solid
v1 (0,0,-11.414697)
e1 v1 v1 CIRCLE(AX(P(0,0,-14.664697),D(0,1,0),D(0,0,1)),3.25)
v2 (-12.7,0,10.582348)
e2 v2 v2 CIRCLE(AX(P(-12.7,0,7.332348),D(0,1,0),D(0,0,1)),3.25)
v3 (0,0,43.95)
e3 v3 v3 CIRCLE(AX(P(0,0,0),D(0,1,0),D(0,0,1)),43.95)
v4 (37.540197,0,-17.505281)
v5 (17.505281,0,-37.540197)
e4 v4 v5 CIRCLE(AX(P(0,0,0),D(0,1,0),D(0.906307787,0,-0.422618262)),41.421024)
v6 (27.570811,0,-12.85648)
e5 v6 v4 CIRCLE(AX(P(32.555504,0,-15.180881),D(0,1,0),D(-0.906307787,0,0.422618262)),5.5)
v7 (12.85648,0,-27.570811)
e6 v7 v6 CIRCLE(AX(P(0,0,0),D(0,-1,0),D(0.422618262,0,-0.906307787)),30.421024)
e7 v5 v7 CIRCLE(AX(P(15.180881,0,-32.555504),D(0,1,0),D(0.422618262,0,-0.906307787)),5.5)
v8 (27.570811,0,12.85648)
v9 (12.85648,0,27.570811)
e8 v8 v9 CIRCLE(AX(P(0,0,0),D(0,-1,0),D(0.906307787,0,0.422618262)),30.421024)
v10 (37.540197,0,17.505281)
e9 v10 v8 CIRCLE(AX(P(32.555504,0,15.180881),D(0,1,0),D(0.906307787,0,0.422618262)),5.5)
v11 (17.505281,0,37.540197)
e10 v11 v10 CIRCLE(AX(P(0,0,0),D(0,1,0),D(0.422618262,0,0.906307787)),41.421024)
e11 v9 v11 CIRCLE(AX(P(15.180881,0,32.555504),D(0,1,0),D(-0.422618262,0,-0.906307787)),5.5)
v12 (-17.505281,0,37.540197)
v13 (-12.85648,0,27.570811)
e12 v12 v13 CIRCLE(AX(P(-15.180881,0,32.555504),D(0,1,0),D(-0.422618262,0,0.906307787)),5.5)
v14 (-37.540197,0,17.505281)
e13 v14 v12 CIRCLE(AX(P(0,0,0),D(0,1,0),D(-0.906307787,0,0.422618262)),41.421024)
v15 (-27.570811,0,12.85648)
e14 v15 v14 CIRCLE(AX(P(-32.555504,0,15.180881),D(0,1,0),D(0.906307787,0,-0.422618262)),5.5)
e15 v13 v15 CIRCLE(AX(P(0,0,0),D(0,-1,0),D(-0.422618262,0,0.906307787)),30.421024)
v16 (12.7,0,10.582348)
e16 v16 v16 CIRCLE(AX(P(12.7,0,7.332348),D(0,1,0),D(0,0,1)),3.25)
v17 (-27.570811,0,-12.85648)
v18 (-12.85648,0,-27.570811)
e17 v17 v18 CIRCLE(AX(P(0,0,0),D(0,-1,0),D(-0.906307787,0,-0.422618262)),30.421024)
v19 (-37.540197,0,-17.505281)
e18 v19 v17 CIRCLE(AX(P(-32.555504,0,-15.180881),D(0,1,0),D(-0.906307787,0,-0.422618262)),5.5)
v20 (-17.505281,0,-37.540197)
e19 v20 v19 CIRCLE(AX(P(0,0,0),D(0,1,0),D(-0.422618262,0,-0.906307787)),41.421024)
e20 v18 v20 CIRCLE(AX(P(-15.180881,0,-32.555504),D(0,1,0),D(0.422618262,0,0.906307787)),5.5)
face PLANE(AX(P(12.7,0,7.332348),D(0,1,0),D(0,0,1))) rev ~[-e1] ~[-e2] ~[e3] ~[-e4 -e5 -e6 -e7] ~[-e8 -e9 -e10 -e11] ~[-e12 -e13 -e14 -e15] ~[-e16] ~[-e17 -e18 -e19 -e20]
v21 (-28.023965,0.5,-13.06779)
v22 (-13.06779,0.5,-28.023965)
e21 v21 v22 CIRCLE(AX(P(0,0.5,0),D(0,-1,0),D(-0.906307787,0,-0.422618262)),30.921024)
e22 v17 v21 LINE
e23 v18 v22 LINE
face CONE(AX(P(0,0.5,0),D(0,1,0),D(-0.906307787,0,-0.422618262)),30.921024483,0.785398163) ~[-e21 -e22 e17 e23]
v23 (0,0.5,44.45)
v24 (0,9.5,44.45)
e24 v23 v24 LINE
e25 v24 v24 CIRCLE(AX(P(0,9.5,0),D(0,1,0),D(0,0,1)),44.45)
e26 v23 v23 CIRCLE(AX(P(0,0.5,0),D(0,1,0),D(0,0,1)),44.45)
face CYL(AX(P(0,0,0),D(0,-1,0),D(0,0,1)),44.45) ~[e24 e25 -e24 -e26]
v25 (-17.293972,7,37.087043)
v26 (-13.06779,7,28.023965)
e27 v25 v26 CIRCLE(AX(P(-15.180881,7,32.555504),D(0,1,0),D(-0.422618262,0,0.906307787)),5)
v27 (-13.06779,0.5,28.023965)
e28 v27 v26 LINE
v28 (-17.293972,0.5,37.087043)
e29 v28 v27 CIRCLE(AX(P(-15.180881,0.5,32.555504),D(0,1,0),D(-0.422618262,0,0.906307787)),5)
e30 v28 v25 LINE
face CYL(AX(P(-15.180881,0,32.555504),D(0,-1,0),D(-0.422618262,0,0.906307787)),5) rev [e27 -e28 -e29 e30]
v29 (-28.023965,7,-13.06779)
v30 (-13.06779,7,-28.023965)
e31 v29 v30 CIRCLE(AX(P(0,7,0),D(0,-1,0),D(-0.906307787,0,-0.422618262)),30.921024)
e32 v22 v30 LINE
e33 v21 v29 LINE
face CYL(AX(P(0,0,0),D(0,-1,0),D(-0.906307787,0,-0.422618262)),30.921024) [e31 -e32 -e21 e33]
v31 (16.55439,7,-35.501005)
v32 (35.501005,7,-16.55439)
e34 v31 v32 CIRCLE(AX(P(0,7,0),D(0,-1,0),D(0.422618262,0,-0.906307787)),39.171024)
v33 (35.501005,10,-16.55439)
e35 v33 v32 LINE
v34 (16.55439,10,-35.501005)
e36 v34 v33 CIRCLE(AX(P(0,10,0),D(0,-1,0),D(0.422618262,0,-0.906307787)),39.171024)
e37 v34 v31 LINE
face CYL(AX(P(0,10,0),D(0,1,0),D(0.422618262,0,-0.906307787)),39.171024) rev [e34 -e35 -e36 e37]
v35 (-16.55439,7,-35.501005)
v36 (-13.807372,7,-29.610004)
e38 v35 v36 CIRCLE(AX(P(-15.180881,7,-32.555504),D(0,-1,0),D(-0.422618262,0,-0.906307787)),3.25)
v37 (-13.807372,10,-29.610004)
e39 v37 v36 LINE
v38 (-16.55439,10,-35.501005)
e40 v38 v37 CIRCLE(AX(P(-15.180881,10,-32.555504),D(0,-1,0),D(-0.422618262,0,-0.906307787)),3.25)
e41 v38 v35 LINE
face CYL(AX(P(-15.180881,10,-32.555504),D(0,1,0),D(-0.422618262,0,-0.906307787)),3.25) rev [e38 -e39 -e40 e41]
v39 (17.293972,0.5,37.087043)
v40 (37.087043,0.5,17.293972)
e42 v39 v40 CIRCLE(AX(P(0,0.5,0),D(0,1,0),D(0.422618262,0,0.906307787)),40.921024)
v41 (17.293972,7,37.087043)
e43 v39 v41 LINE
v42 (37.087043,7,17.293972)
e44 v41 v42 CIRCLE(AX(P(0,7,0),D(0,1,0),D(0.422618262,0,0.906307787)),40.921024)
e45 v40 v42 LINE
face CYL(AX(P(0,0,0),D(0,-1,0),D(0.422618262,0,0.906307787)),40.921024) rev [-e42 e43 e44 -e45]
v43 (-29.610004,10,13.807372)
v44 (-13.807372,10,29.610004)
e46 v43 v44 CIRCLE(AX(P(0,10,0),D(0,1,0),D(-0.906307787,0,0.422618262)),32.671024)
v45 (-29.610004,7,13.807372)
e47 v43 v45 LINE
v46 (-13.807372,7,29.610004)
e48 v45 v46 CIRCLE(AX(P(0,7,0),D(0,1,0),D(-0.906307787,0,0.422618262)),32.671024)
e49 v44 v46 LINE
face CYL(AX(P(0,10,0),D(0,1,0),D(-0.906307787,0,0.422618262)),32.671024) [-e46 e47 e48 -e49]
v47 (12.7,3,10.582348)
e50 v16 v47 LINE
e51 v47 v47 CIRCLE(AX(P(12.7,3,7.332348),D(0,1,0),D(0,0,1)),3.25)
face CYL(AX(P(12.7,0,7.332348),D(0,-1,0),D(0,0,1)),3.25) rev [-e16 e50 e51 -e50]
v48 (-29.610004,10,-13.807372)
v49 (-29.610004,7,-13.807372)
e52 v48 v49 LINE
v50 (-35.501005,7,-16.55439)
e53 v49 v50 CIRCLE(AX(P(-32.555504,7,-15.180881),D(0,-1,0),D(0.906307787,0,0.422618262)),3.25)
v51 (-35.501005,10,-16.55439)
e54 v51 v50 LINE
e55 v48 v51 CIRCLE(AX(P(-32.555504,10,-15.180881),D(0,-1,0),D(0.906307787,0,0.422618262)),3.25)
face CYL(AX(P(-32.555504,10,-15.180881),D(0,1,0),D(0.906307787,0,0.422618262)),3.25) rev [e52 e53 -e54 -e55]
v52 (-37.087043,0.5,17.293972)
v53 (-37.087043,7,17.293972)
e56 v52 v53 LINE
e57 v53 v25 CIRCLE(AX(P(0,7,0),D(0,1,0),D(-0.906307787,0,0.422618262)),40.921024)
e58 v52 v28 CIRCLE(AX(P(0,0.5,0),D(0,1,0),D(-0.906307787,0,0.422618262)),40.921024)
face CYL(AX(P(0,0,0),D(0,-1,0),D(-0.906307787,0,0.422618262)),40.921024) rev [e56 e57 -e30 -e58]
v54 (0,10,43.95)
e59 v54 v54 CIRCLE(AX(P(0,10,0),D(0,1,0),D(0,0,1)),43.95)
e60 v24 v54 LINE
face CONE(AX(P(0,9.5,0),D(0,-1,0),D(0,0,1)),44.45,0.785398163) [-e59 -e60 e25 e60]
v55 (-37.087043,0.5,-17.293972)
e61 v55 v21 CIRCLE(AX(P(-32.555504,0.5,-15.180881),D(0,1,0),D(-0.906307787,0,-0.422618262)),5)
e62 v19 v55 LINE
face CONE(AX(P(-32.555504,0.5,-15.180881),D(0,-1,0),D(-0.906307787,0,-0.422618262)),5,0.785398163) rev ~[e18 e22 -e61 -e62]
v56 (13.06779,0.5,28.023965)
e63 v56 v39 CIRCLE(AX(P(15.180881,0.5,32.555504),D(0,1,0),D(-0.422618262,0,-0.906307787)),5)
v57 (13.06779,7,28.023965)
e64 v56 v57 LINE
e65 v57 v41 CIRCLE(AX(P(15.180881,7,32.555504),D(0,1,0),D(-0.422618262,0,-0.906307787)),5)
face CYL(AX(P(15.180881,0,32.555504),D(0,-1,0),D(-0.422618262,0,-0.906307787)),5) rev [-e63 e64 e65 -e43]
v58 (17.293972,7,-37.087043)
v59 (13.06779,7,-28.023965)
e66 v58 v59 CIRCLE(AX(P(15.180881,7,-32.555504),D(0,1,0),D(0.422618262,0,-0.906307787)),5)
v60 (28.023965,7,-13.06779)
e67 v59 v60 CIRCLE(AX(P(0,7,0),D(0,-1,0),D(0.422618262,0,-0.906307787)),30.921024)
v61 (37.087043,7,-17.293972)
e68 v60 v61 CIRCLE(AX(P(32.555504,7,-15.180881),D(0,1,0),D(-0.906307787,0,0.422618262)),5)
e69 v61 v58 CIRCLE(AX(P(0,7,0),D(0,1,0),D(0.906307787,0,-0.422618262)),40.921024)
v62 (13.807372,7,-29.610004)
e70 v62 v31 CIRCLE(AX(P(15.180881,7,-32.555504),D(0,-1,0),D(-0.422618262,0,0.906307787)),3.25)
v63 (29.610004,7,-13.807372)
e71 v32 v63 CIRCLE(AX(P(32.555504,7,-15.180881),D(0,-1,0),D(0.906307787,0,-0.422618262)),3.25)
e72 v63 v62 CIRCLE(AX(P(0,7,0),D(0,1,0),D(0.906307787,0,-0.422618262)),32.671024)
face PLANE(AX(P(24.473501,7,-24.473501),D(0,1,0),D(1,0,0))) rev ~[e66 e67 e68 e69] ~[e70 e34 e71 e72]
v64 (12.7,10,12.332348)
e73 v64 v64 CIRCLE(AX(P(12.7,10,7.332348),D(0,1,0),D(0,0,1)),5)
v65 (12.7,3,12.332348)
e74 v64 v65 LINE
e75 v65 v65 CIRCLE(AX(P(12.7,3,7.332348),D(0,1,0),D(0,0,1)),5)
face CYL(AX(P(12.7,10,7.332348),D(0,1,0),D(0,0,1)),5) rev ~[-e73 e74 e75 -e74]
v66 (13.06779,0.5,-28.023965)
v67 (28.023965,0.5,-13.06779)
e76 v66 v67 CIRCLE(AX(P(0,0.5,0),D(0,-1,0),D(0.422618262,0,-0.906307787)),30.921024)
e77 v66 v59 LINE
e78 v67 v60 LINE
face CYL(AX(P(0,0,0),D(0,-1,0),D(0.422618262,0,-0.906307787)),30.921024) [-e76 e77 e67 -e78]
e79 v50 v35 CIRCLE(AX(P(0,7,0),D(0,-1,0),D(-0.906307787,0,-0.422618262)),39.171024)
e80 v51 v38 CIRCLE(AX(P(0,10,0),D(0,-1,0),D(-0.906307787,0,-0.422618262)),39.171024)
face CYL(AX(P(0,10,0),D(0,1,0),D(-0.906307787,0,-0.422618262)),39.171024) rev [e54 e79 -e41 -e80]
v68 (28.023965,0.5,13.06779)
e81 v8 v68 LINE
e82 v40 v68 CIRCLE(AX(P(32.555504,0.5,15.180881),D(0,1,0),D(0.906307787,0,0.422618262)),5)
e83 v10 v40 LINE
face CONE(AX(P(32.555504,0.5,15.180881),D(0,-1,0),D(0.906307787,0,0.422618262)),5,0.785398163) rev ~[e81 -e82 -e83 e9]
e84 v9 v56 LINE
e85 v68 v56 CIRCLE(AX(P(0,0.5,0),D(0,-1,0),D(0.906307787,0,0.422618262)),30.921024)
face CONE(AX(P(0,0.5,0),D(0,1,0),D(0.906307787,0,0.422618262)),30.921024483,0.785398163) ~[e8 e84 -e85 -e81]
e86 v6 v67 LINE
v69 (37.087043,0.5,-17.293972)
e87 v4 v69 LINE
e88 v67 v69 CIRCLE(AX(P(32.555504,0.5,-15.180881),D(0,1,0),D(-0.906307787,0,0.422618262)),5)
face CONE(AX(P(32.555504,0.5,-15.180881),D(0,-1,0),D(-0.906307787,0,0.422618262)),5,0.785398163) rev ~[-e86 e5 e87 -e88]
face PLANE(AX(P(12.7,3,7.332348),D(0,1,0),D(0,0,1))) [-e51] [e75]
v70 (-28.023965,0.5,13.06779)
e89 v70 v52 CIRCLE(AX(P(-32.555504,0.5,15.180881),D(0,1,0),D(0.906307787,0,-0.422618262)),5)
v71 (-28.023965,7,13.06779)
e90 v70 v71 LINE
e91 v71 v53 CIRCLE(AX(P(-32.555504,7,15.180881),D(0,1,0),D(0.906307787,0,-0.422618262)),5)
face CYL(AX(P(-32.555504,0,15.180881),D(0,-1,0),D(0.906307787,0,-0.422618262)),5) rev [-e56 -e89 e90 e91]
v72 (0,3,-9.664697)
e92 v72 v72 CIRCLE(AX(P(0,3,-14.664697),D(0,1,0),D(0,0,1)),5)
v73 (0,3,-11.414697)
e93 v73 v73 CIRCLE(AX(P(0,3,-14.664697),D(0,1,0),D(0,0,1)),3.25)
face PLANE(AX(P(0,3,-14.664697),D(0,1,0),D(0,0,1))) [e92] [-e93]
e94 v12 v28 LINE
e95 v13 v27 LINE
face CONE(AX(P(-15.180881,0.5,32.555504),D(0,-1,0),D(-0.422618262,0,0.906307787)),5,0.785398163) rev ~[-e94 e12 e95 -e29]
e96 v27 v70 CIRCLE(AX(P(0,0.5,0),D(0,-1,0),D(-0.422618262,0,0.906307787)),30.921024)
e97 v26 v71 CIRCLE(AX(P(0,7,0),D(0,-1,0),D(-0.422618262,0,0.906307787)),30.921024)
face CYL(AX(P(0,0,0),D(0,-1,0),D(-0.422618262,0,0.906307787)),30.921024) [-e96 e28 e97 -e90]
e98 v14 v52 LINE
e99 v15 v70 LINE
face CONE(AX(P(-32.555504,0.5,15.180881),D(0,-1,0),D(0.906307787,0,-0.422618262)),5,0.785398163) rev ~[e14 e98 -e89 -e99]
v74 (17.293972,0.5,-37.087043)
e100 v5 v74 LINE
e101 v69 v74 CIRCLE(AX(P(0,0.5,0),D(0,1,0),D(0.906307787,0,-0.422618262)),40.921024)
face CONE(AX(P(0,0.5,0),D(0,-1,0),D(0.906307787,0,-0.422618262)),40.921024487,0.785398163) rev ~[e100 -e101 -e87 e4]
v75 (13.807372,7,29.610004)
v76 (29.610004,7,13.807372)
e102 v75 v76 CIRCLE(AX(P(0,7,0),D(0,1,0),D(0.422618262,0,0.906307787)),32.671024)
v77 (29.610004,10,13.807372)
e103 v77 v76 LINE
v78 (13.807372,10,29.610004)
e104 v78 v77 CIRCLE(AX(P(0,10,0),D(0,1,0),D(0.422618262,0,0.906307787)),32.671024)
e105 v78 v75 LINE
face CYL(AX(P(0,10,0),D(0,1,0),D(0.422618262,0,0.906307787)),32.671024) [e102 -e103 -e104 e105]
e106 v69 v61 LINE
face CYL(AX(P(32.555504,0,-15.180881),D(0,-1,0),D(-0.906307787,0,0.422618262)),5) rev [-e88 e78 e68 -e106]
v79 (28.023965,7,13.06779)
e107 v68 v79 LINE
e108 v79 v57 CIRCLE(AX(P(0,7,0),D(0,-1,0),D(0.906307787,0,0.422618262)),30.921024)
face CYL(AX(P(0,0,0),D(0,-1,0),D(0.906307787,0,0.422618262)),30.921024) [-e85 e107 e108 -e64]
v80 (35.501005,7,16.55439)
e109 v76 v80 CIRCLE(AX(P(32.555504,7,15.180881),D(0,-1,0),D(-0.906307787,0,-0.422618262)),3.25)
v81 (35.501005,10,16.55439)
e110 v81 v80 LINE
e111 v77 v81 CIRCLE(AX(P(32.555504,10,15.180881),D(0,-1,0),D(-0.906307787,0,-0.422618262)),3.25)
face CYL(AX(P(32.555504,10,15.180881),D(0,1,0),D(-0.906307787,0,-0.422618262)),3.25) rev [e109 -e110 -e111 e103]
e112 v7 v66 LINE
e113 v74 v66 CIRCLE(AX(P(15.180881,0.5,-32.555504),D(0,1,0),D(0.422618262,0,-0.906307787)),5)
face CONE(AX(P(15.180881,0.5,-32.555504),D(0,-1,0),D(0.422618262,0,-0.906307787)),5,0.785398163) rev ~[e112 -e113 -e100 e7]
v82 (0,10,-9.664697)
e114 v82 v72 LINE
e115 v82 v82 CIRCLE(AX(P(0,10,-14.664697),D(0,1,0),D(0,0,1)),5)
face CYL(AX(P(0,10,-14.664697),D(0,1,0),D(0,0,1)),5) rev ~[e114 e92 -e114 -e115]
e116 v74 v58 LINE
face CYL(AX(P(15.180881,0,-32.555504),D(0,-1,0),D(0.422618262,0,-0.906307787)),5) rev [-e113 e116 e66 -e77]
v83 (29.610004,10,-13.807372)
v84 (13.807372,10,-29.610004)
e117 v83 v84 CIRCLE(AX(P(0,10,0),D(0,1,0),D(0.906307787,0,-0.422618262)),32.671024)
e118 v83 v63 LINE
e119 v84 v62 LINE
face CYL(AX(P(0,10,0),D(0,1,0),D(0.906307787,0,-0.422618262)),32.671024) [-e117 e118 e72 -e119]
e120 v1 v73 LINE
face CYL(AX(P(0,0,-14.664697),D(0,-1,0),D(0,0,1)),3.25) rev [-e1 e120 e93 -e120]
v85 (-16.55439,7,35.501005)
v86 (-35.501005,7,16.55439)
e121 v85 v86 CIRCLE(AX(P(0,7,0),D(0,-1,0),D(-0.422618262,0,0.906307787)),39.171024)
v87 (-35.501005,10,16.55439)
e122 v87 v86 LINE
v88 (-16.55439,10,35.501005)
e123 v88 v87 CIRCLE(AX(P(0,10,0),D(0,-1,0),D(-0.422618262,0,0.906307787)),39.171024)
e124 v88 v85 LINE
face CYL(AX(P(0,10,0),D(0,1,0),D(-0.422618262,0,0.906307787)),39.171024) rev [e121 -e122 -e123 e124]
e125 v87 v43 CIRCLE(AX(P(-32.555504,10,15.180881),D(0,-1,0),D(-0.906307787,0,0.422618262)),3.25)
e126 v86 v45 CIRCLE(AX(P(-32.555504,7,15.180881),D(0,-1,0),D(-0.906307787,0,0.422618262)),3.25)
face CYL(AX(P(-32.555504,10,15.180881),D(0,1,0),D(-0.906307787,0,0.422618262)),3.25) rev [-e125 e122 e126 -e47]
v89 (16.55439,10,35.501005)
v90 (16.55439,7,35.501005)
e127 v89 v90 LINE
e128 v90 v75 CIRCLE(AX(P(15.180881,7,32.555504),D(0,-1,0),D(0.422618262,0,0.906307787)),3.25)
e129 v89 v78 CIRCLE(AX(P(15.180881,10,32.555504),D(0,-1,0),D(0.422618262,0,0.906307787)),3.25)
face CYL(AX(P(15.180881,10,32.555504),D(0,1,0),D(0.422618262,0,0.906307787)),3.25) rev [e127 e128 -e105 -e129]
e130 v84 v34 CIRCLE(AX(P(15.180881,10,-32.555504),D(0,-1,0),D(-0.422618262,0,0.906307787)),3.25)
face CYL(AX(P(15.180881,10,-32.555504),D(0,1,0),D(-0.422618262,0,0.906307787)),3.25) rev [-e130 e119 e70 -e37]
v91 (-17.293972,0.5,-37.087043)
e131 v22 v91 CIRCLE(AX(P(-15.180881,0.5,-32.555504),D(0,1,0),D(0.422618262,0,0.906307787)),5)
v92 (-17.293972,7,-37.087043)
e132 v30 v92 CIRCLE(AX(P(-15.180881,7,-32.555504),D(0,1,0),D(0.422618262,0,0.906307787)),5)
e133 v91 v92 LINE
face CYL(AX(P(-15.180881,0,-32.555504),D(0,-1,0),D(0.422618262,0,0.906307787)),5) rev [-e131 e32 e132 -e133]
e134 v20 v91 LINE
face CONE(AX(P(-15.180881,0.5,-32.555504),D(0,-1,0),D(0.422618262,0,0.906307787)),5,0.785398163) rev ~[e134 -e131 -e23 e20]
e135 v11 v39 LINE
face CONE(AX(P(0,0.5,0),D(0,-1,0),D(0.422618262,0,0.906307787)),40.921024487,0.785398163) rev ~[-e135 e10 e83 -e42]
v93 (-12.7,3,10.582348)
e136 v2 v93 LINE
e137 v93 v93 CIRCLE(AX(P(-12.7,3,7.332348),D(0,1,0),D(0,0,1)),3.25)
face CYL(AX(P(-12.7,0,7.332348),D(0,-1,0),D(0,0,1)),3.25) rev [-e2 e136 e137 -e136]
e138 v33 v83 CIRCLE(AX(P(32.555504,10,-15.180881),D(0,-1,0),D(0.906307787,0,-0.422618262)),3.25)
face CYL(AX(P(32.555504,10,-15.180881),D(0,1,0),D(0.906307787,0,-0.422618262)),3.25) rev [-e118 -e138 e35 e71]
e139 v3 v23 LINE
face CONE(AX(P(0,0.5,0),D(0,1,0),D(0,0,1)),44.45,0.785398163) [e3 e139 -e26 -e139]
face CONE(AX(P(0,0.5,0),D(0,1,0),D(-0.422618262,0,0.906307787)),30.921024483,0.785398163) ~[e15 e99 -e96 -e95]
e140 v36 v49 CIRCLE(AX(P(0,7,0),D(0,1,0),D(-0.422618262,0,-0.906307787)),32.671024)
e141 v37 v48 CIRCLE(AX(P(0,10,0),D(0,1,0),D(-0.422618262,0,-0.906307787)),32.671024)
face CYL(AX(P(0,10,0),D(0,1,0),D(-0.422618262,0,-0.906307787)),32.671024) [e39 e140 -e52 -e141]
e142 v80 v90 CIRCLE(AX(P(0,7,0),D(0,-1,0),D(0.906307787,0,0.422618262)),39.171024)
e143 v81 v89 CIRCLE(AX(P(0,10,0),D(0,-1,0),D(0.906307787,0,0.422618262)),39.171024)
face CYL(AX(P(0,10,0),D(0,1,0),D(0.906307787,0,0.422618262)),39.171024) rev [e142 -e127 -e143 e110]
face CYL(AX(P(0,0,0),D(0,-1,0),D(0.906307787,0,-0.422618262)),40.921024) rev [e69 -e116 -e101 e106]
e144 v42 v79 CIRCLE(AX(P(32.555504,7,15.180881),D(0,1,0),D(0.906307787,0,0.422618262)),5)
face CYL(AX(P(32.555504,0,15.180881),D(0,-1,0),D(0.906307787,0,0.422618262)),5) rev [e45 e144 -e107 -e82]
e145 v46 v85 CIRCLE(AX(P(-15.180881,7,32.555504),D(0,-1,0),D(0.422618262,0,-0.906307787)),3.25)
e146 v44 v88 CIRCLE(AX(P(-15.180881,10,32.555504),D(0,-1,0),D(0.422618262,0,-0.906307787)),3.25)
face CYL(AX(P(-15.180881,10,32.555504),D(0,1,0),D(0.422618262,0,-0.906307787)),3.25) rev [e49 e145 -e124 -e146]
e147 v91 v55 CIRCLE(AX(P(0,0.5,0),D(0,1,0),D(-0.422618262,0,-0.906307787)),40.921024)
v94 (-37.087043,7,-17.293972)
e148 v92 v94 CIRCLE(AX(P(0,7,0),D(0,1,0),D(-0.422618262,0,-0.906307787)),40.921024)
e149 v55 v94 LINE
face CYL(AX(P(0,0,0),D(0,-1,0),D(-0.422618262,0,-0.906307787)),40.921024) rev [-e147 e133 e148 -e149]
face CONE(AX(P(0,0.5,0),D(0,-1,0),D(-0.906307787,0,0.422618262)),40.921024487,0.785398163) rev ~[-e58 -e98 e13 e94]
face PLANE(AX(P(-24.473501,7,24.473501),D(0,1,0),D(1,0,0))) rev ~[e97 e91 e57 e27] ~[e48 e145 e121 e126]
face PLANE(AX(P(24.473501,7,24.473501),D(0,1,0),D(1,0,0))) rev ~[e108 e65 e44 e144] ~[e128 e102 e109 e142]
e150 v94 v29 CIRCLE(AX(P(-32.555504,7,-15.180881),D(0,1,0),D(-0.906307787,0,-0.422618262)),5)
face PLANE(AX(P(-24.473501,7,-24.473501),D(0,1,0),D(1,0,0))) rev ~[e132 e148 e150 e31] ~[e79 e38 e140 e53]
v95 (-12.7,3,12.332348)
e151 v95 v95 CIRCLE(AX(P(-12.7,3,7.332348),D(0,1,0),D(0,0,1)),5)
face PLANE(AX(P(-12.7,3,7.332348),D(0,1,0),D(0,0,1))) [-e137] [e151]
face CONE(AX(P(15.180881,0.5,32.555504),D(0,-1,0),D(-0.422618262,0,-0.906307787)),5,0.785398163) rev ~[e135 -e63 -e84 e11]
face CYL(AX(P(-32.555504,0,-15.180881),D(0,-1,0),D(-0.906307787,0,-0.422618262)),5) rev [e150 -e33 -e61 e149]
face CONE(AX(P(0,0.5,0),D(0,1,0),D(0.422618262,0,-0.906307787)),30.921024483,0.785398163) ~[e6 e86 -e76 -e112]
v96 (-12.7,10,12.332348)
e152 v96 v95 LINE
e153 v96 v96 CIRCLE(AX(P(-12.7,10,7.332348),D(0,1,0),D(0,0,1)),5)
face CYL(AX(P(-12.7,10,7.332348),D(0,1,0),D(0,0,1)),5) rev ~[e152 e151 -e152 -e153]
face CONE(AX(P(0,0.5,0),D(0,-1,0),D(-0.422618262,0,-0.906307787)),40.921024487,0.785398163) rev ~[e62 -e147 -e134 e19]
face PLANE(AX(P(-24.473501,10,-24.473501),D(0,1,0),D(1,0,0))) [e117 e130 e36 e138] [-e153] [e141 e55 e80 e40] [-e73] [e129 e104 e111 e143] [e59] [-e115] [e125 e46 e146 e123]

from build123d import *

# Parameters (mm, degrees)
SKETCH1_R           = 44.45
BOSS_EXTRUDE1_DEPTH = 10
BOSS_EXTRUDE2_DEPTH = 3
SKETCH3_R           = 5
CUT_EXTRUDE1_DEPTH  = 10
SKETCH4_R           = 5
SKETCH4_R_2         = 3.25
BOSS_EXTRUDE4_DEPTH = 3
CHAMFER1_SIZE       = 0.5


with BuildPart() as part:
    # Sketch1 → Boss-Extrude1 (new body)
    with BuildSketch(Plane(origin=(0, 0, 0), x_dir=(1, 0, 0), z_dir=(0, 1, 0))):
        with Locations(Location((0, 0, 0), (0, 0, 270))):
            Circle(SKETCH1_R)
        with BuildLine():
            ThreePointArc((37.087043144, 17.293972236), (28.935533906, 28.935533906), (17.293972236, 37.087043144))
            ThreePointArc((17.293972236, 37.087043144), (10.649341992, 34.668595517), (13.067789619, 28.023965273))
            ThreePointArc((13.067789619, 28.023965273), (21.864466094, 21.864466094), (28.023965273, 13.067789619))
            ThreePointArc((28.023965273, 13.067789619), (34.668595517, 10.649341992), (37.087043144, 17.293972236))
        make_face(mode=Mode.SUBTRACT)
        with BuildLine():
            ThreePointArc((17.293972236, -37.087043144), (28.935533906, -28.935533906), (37.087043144, -17.293972236))
            ThreePointArc((37.087043144, -17.293972236), (34.668595517, -10.649341992), (28.023965273, -13.067789619))
            ThreePointArc((28.023965273, -13.067789619), (21.864466094, -21.864466094), (13.067789619, -28.023965273))
            ThreePointArc((13.067789619, -28.023965273), (10.649341992, -34.668595517), (17.293972236, -37.087043144))
        make_face(mode=Mode.SUBTRACT)
        with BuildLine():
            ThreePointArc((-37.087043144, -17.293972236), (-28.935533906, -28.935533906), (-17.293972236, -37.087043144))
            ThreePointArc((-17.293972236, -37.087043144), (-10.649341992, -34.668595517), (-13.067789619, -28.023965273))
            ThreePointArc((-13.067789619, -28.023965273), (-21.864466094, -21.864466094), (-28.023965273, -13.067789619))
            ThreePointArc((-28.023965273, -13.067789619), (-34.668595517, -10.649341992), (-37.087043144, -17.293972236))
        make_face(mode=Mode.SUBTRACT)
        with BuildLine():
            ThreePointArc((-17.293972236, 37.087043144), (-28.935533906, 28.935533906), (-37.087043144, 17.293972236))
            ThreePointArc((-37.087043144, 17.293972236), (-34.668595517, 10.649341992), (-28.023965273, 13.067789619))
            ThreePointArc((-28.023965273, 13.067789619), (-21.864466094, 21.864466094), (-13.067789619, 28.023965273))
            ThreePointArc((-13.067789619, 28.023965273), (-10.649341992, 34.668595517), (-17.293972236, 37.087043144))
        make_face(mode=Mode.SUBTRACT)
    extrude(amount=BOSS_EXTRUDE1_DEPTH)

    # Sketch2 → Boss-Extrude2 (add)
    with BuildSketch(Plane(origin=(0, 10, 0), x_dir=(1, 0, 0), z_dir=(0, 1, 0))):
        with BuildLine():
            ThreePointArc((-17.293972236, 37.087043144), (-28.935533906, 28.935533906), (-37.087043144, 17.293972236))
            ThreePointArc((-37.087043144, 17.293972236), (-34.668595517, 10.649341992), (-28.023965273, 13.067789619))
            ThreePointArc((-28.023965273, 13.067789619), (-21.864466094, 21.864466094), (-13.067789619, 28.023965273))
            ThreePointArc((-13.067789619, 28.023965273), (-10.649341992, 34.668595517), (-17.293972236, 37.087043144))
        make_face()
        with BuildLine():
            ThreePointArc((-16.554390278, 35.501004516), (-12.23538062, 33.929013559), (-13.807371577, 29.610003901))
            ThreePointArc((-13.807371577, 29.610003901), (-23.101902961, 23.101902961), (-29.610003901, 13.807371577))
            ThreePointArc((-29.610003901, 13.807371577), (-33.929013559, 12.23538062), (-35.501004516, 16.554390278))
            ThreePointArc((-35.501004516, 16.554390278), (-27.698097039, 27.698097039), (-16.554390278, 35.501004516))
        make_face(mode=Mode.SUBTRACT)
        with BuildLine():
            ThreePointArc((17.293972236, 37.087043144), (10.649341992, 34.668595517), (13.067789619, 28.023965273))
            ThreePointArc((13.067789619, 28.023965273), (21.864466094, 21.864466094), (28.023965273, 13.067789619))
            ThreePointArc((28.023965273, 13.067789619), (34.668595517, 10.649341992), (37.087043144, 17.293972236))
            ThreePointArc((37.087043144, 17.293972236), (28.935533906, 28.935533906), (17.293972236, 37.087043144))
        make_face()
        with BuildLine():
            ThreePointArc((35.501004516, 16.554390278), (33.929013559, 12.23538062), (29.610003901, 13.807371577))
            ThreePointArc((29.610003901, 13.807371577), (23.101902961, 23.101902961), (13.807371577, 29.610003901))
            ThreePointArc((13.807371577, 29.610003901), (12.23538062, 33.929013559), (16.554390278, 35.501004516))
            ThreePointArc((16.554390278, 35.501004516), (27.698097039, 27.698097039), (35.501004516, 16.554390278))
        make_face(mode=Mode.SUBTRACT)
        with BuildLine():
            ThreePointArc((37.087043144, -17.293972236), (34.668595517, -10.649341992), (28.023965273, -13.067789619))
            ThreePointArc((28.023965273, -13.067789619), (21.864466094, -21.864466094), (13.067789619, -28.023965273))
            ThreePointArc((13.067789619, -28.023965273), (10.649341992, -34.668595517), (17.293972236, -37.087043144))
            ThreePointArc((17.293972236, -37.087043144), (28.935533906, -28.935533906), (37.087043144, -17.293972236))
        make_face()
        with BuildLine():
            ThreePointArc((16.554390278, -35.501004516), (12.23538062, -33.929013559), (13.807371577, -29.610003901))
            ThreePointArc((13.807371577, -29.610003901), (23.101902961, -23.101902961), (29.610003901, -13.807371577))
            ThreePointArc((29.610003901, -13.807371577), (33.929013559, -12.23538062), (35.501004516, -16.554390278))
            ThreePointArc((35.501004516, -16.554390278), (27.698097039, -27.698097039), (16.554390278, -35.501004516))
        make_face(mode=Mode.SUBTRACT)
        with BuildLine():
            ThreePointArc((-28.023965273, -13.067789619), (-34.668595517, -10.649341992), (-37.087043144, -17.293972236))
            ThreePointArc((-37.087043144, -17.293972236), (-28.935533906, -28.935533906), (-17.293972236, -37.087043144))
            ThreePointArc((-17.293972236, -37.087043144), (-10.649341992, -34.668595517), (-13.067789619, -28.023965273))
            ThreePointArc((-13.067789619, -28.023965273), (-21.864466094, -21.864466094), (-28.023965273, -13.067789619))
        make_face()
        with BuildLine():
            ThreePointArc((-35.501004516, -16.554390278), (-33.929013559, -12.23538062), (-29.610003901, -13.807371577))
            ThreePointArc((-29.610003901, -13.807371577), (-23.101902961, -23.101902961), (-13.807371577, -29.610003901))
            ThreePointArc((-13.807371577, -29.610003901), (-12.23538062, -33.929013559), (-16.554390278, -35.501004516))
            ThreePointArc((-16.554390278, -35.501004516), (-27.698097039, -27.698097039), (-35.501004516, -16.554390278))
        make_face(mode=Mode.SUBTRACT)
    extrude(amount=-BOSS_EXTRUDE2_DEPTH)

    # Sketch3 → Cut-Extrude1 (cut)
    with BuildSketch(Plane(origin=(0, 10, 0), x_dir=(1, 0, 0), z_dir=(0, 1, 0))):
        with Locations(Location((0, 14.664696837, 0), (0, 0, 270))):
            Circle(SKETCH3_R)
        with Locations(Location((-12.7, -7.332348419, 0), (0, 0, 270))):
            Circle(SKETCH3_R)
        with Locations(Location((12.7, -7.332348419, 0), (0, 0, 270))):
            Circle(SKETCH3_R)
    extrude(amount=-CUT_EXTRUDE1_DEPTH, mode=Mode.SUBTRACT)

    # Sketch4 → Boss-Extrude4 (add)
    with BuildSketch(Plane(origin=(0, 0, 0), x_dir=(1, 0, 0), z_dir=(0, 1, 0))):
        with Locations(Location((12.7, -7.332348419, 0), (0, 0, 270))):
            Circle(SKETCH4_R)
        with Locations(Location((12.7, -7.332348419, 0), (0, 0, 270))):
            Circle(SKETCH4_R_2, mode=Mode.SUBTRACT)
        with Locations(Location((-12.7, -7.332348419, 0), (0, 0, 270))):
            Circle(SKETCH4_R)
        with Locations(Location((-12.7, -7.332348419, 0), (0, 0, 270))):
            Circle(SKETCH4_R_2, mode=Mode.SUBTRACT)
        with Locations(Location((0, 14.664696837, 0), (0, 0, 270))):
            Circle(SKETCH4_R)
        with Locations(Location((0, 14.664696837, 0), (0, 0, 270))):
            Circle(SKETCH4_R_2, mode=Mode.SUBTRACT)
    extrude(amount=BOSS_EXTRUDE4_DEPTH)

    # Chamfer1
    chamfer1_edges = [part.edges().sort_by_distance(p)[0] for p in [
        (-34.668595517, 0, 10.649341992),
        (-28.935533906, 0, 28.935533906),
        (-10.649341992, 0, 34.668595517),
        (-21.864466094, 0, 21.864466094),
        (0, 0, -44.45),
        (10.649341992, 0, 34.668595517),
        (28.935533906, 0, 28.935533906),
        (34.668595517, 0, 10.649341992),
        (21.864466094, 0, 21.864466094),
        (-28.935533906, 0, -28.935533906),
        (-34.668595517, 0, -10.649341992),
        (-21.864466094, 0, -21.864466094),
        (-10.649341992, 0, -34.668595517),
        (34.668595517, 0, -10.649341992),
        (28.935533906, 0, -28.935533906),
        (10.649341992, 0, -34.668595517),
        (21.864466094, 0, -21.864466094),
        (0, 10, -44.45),
    ]]
    chamfer(chamfer1_edges, length=CHAMFER1_SIZE)


solid = part.part
